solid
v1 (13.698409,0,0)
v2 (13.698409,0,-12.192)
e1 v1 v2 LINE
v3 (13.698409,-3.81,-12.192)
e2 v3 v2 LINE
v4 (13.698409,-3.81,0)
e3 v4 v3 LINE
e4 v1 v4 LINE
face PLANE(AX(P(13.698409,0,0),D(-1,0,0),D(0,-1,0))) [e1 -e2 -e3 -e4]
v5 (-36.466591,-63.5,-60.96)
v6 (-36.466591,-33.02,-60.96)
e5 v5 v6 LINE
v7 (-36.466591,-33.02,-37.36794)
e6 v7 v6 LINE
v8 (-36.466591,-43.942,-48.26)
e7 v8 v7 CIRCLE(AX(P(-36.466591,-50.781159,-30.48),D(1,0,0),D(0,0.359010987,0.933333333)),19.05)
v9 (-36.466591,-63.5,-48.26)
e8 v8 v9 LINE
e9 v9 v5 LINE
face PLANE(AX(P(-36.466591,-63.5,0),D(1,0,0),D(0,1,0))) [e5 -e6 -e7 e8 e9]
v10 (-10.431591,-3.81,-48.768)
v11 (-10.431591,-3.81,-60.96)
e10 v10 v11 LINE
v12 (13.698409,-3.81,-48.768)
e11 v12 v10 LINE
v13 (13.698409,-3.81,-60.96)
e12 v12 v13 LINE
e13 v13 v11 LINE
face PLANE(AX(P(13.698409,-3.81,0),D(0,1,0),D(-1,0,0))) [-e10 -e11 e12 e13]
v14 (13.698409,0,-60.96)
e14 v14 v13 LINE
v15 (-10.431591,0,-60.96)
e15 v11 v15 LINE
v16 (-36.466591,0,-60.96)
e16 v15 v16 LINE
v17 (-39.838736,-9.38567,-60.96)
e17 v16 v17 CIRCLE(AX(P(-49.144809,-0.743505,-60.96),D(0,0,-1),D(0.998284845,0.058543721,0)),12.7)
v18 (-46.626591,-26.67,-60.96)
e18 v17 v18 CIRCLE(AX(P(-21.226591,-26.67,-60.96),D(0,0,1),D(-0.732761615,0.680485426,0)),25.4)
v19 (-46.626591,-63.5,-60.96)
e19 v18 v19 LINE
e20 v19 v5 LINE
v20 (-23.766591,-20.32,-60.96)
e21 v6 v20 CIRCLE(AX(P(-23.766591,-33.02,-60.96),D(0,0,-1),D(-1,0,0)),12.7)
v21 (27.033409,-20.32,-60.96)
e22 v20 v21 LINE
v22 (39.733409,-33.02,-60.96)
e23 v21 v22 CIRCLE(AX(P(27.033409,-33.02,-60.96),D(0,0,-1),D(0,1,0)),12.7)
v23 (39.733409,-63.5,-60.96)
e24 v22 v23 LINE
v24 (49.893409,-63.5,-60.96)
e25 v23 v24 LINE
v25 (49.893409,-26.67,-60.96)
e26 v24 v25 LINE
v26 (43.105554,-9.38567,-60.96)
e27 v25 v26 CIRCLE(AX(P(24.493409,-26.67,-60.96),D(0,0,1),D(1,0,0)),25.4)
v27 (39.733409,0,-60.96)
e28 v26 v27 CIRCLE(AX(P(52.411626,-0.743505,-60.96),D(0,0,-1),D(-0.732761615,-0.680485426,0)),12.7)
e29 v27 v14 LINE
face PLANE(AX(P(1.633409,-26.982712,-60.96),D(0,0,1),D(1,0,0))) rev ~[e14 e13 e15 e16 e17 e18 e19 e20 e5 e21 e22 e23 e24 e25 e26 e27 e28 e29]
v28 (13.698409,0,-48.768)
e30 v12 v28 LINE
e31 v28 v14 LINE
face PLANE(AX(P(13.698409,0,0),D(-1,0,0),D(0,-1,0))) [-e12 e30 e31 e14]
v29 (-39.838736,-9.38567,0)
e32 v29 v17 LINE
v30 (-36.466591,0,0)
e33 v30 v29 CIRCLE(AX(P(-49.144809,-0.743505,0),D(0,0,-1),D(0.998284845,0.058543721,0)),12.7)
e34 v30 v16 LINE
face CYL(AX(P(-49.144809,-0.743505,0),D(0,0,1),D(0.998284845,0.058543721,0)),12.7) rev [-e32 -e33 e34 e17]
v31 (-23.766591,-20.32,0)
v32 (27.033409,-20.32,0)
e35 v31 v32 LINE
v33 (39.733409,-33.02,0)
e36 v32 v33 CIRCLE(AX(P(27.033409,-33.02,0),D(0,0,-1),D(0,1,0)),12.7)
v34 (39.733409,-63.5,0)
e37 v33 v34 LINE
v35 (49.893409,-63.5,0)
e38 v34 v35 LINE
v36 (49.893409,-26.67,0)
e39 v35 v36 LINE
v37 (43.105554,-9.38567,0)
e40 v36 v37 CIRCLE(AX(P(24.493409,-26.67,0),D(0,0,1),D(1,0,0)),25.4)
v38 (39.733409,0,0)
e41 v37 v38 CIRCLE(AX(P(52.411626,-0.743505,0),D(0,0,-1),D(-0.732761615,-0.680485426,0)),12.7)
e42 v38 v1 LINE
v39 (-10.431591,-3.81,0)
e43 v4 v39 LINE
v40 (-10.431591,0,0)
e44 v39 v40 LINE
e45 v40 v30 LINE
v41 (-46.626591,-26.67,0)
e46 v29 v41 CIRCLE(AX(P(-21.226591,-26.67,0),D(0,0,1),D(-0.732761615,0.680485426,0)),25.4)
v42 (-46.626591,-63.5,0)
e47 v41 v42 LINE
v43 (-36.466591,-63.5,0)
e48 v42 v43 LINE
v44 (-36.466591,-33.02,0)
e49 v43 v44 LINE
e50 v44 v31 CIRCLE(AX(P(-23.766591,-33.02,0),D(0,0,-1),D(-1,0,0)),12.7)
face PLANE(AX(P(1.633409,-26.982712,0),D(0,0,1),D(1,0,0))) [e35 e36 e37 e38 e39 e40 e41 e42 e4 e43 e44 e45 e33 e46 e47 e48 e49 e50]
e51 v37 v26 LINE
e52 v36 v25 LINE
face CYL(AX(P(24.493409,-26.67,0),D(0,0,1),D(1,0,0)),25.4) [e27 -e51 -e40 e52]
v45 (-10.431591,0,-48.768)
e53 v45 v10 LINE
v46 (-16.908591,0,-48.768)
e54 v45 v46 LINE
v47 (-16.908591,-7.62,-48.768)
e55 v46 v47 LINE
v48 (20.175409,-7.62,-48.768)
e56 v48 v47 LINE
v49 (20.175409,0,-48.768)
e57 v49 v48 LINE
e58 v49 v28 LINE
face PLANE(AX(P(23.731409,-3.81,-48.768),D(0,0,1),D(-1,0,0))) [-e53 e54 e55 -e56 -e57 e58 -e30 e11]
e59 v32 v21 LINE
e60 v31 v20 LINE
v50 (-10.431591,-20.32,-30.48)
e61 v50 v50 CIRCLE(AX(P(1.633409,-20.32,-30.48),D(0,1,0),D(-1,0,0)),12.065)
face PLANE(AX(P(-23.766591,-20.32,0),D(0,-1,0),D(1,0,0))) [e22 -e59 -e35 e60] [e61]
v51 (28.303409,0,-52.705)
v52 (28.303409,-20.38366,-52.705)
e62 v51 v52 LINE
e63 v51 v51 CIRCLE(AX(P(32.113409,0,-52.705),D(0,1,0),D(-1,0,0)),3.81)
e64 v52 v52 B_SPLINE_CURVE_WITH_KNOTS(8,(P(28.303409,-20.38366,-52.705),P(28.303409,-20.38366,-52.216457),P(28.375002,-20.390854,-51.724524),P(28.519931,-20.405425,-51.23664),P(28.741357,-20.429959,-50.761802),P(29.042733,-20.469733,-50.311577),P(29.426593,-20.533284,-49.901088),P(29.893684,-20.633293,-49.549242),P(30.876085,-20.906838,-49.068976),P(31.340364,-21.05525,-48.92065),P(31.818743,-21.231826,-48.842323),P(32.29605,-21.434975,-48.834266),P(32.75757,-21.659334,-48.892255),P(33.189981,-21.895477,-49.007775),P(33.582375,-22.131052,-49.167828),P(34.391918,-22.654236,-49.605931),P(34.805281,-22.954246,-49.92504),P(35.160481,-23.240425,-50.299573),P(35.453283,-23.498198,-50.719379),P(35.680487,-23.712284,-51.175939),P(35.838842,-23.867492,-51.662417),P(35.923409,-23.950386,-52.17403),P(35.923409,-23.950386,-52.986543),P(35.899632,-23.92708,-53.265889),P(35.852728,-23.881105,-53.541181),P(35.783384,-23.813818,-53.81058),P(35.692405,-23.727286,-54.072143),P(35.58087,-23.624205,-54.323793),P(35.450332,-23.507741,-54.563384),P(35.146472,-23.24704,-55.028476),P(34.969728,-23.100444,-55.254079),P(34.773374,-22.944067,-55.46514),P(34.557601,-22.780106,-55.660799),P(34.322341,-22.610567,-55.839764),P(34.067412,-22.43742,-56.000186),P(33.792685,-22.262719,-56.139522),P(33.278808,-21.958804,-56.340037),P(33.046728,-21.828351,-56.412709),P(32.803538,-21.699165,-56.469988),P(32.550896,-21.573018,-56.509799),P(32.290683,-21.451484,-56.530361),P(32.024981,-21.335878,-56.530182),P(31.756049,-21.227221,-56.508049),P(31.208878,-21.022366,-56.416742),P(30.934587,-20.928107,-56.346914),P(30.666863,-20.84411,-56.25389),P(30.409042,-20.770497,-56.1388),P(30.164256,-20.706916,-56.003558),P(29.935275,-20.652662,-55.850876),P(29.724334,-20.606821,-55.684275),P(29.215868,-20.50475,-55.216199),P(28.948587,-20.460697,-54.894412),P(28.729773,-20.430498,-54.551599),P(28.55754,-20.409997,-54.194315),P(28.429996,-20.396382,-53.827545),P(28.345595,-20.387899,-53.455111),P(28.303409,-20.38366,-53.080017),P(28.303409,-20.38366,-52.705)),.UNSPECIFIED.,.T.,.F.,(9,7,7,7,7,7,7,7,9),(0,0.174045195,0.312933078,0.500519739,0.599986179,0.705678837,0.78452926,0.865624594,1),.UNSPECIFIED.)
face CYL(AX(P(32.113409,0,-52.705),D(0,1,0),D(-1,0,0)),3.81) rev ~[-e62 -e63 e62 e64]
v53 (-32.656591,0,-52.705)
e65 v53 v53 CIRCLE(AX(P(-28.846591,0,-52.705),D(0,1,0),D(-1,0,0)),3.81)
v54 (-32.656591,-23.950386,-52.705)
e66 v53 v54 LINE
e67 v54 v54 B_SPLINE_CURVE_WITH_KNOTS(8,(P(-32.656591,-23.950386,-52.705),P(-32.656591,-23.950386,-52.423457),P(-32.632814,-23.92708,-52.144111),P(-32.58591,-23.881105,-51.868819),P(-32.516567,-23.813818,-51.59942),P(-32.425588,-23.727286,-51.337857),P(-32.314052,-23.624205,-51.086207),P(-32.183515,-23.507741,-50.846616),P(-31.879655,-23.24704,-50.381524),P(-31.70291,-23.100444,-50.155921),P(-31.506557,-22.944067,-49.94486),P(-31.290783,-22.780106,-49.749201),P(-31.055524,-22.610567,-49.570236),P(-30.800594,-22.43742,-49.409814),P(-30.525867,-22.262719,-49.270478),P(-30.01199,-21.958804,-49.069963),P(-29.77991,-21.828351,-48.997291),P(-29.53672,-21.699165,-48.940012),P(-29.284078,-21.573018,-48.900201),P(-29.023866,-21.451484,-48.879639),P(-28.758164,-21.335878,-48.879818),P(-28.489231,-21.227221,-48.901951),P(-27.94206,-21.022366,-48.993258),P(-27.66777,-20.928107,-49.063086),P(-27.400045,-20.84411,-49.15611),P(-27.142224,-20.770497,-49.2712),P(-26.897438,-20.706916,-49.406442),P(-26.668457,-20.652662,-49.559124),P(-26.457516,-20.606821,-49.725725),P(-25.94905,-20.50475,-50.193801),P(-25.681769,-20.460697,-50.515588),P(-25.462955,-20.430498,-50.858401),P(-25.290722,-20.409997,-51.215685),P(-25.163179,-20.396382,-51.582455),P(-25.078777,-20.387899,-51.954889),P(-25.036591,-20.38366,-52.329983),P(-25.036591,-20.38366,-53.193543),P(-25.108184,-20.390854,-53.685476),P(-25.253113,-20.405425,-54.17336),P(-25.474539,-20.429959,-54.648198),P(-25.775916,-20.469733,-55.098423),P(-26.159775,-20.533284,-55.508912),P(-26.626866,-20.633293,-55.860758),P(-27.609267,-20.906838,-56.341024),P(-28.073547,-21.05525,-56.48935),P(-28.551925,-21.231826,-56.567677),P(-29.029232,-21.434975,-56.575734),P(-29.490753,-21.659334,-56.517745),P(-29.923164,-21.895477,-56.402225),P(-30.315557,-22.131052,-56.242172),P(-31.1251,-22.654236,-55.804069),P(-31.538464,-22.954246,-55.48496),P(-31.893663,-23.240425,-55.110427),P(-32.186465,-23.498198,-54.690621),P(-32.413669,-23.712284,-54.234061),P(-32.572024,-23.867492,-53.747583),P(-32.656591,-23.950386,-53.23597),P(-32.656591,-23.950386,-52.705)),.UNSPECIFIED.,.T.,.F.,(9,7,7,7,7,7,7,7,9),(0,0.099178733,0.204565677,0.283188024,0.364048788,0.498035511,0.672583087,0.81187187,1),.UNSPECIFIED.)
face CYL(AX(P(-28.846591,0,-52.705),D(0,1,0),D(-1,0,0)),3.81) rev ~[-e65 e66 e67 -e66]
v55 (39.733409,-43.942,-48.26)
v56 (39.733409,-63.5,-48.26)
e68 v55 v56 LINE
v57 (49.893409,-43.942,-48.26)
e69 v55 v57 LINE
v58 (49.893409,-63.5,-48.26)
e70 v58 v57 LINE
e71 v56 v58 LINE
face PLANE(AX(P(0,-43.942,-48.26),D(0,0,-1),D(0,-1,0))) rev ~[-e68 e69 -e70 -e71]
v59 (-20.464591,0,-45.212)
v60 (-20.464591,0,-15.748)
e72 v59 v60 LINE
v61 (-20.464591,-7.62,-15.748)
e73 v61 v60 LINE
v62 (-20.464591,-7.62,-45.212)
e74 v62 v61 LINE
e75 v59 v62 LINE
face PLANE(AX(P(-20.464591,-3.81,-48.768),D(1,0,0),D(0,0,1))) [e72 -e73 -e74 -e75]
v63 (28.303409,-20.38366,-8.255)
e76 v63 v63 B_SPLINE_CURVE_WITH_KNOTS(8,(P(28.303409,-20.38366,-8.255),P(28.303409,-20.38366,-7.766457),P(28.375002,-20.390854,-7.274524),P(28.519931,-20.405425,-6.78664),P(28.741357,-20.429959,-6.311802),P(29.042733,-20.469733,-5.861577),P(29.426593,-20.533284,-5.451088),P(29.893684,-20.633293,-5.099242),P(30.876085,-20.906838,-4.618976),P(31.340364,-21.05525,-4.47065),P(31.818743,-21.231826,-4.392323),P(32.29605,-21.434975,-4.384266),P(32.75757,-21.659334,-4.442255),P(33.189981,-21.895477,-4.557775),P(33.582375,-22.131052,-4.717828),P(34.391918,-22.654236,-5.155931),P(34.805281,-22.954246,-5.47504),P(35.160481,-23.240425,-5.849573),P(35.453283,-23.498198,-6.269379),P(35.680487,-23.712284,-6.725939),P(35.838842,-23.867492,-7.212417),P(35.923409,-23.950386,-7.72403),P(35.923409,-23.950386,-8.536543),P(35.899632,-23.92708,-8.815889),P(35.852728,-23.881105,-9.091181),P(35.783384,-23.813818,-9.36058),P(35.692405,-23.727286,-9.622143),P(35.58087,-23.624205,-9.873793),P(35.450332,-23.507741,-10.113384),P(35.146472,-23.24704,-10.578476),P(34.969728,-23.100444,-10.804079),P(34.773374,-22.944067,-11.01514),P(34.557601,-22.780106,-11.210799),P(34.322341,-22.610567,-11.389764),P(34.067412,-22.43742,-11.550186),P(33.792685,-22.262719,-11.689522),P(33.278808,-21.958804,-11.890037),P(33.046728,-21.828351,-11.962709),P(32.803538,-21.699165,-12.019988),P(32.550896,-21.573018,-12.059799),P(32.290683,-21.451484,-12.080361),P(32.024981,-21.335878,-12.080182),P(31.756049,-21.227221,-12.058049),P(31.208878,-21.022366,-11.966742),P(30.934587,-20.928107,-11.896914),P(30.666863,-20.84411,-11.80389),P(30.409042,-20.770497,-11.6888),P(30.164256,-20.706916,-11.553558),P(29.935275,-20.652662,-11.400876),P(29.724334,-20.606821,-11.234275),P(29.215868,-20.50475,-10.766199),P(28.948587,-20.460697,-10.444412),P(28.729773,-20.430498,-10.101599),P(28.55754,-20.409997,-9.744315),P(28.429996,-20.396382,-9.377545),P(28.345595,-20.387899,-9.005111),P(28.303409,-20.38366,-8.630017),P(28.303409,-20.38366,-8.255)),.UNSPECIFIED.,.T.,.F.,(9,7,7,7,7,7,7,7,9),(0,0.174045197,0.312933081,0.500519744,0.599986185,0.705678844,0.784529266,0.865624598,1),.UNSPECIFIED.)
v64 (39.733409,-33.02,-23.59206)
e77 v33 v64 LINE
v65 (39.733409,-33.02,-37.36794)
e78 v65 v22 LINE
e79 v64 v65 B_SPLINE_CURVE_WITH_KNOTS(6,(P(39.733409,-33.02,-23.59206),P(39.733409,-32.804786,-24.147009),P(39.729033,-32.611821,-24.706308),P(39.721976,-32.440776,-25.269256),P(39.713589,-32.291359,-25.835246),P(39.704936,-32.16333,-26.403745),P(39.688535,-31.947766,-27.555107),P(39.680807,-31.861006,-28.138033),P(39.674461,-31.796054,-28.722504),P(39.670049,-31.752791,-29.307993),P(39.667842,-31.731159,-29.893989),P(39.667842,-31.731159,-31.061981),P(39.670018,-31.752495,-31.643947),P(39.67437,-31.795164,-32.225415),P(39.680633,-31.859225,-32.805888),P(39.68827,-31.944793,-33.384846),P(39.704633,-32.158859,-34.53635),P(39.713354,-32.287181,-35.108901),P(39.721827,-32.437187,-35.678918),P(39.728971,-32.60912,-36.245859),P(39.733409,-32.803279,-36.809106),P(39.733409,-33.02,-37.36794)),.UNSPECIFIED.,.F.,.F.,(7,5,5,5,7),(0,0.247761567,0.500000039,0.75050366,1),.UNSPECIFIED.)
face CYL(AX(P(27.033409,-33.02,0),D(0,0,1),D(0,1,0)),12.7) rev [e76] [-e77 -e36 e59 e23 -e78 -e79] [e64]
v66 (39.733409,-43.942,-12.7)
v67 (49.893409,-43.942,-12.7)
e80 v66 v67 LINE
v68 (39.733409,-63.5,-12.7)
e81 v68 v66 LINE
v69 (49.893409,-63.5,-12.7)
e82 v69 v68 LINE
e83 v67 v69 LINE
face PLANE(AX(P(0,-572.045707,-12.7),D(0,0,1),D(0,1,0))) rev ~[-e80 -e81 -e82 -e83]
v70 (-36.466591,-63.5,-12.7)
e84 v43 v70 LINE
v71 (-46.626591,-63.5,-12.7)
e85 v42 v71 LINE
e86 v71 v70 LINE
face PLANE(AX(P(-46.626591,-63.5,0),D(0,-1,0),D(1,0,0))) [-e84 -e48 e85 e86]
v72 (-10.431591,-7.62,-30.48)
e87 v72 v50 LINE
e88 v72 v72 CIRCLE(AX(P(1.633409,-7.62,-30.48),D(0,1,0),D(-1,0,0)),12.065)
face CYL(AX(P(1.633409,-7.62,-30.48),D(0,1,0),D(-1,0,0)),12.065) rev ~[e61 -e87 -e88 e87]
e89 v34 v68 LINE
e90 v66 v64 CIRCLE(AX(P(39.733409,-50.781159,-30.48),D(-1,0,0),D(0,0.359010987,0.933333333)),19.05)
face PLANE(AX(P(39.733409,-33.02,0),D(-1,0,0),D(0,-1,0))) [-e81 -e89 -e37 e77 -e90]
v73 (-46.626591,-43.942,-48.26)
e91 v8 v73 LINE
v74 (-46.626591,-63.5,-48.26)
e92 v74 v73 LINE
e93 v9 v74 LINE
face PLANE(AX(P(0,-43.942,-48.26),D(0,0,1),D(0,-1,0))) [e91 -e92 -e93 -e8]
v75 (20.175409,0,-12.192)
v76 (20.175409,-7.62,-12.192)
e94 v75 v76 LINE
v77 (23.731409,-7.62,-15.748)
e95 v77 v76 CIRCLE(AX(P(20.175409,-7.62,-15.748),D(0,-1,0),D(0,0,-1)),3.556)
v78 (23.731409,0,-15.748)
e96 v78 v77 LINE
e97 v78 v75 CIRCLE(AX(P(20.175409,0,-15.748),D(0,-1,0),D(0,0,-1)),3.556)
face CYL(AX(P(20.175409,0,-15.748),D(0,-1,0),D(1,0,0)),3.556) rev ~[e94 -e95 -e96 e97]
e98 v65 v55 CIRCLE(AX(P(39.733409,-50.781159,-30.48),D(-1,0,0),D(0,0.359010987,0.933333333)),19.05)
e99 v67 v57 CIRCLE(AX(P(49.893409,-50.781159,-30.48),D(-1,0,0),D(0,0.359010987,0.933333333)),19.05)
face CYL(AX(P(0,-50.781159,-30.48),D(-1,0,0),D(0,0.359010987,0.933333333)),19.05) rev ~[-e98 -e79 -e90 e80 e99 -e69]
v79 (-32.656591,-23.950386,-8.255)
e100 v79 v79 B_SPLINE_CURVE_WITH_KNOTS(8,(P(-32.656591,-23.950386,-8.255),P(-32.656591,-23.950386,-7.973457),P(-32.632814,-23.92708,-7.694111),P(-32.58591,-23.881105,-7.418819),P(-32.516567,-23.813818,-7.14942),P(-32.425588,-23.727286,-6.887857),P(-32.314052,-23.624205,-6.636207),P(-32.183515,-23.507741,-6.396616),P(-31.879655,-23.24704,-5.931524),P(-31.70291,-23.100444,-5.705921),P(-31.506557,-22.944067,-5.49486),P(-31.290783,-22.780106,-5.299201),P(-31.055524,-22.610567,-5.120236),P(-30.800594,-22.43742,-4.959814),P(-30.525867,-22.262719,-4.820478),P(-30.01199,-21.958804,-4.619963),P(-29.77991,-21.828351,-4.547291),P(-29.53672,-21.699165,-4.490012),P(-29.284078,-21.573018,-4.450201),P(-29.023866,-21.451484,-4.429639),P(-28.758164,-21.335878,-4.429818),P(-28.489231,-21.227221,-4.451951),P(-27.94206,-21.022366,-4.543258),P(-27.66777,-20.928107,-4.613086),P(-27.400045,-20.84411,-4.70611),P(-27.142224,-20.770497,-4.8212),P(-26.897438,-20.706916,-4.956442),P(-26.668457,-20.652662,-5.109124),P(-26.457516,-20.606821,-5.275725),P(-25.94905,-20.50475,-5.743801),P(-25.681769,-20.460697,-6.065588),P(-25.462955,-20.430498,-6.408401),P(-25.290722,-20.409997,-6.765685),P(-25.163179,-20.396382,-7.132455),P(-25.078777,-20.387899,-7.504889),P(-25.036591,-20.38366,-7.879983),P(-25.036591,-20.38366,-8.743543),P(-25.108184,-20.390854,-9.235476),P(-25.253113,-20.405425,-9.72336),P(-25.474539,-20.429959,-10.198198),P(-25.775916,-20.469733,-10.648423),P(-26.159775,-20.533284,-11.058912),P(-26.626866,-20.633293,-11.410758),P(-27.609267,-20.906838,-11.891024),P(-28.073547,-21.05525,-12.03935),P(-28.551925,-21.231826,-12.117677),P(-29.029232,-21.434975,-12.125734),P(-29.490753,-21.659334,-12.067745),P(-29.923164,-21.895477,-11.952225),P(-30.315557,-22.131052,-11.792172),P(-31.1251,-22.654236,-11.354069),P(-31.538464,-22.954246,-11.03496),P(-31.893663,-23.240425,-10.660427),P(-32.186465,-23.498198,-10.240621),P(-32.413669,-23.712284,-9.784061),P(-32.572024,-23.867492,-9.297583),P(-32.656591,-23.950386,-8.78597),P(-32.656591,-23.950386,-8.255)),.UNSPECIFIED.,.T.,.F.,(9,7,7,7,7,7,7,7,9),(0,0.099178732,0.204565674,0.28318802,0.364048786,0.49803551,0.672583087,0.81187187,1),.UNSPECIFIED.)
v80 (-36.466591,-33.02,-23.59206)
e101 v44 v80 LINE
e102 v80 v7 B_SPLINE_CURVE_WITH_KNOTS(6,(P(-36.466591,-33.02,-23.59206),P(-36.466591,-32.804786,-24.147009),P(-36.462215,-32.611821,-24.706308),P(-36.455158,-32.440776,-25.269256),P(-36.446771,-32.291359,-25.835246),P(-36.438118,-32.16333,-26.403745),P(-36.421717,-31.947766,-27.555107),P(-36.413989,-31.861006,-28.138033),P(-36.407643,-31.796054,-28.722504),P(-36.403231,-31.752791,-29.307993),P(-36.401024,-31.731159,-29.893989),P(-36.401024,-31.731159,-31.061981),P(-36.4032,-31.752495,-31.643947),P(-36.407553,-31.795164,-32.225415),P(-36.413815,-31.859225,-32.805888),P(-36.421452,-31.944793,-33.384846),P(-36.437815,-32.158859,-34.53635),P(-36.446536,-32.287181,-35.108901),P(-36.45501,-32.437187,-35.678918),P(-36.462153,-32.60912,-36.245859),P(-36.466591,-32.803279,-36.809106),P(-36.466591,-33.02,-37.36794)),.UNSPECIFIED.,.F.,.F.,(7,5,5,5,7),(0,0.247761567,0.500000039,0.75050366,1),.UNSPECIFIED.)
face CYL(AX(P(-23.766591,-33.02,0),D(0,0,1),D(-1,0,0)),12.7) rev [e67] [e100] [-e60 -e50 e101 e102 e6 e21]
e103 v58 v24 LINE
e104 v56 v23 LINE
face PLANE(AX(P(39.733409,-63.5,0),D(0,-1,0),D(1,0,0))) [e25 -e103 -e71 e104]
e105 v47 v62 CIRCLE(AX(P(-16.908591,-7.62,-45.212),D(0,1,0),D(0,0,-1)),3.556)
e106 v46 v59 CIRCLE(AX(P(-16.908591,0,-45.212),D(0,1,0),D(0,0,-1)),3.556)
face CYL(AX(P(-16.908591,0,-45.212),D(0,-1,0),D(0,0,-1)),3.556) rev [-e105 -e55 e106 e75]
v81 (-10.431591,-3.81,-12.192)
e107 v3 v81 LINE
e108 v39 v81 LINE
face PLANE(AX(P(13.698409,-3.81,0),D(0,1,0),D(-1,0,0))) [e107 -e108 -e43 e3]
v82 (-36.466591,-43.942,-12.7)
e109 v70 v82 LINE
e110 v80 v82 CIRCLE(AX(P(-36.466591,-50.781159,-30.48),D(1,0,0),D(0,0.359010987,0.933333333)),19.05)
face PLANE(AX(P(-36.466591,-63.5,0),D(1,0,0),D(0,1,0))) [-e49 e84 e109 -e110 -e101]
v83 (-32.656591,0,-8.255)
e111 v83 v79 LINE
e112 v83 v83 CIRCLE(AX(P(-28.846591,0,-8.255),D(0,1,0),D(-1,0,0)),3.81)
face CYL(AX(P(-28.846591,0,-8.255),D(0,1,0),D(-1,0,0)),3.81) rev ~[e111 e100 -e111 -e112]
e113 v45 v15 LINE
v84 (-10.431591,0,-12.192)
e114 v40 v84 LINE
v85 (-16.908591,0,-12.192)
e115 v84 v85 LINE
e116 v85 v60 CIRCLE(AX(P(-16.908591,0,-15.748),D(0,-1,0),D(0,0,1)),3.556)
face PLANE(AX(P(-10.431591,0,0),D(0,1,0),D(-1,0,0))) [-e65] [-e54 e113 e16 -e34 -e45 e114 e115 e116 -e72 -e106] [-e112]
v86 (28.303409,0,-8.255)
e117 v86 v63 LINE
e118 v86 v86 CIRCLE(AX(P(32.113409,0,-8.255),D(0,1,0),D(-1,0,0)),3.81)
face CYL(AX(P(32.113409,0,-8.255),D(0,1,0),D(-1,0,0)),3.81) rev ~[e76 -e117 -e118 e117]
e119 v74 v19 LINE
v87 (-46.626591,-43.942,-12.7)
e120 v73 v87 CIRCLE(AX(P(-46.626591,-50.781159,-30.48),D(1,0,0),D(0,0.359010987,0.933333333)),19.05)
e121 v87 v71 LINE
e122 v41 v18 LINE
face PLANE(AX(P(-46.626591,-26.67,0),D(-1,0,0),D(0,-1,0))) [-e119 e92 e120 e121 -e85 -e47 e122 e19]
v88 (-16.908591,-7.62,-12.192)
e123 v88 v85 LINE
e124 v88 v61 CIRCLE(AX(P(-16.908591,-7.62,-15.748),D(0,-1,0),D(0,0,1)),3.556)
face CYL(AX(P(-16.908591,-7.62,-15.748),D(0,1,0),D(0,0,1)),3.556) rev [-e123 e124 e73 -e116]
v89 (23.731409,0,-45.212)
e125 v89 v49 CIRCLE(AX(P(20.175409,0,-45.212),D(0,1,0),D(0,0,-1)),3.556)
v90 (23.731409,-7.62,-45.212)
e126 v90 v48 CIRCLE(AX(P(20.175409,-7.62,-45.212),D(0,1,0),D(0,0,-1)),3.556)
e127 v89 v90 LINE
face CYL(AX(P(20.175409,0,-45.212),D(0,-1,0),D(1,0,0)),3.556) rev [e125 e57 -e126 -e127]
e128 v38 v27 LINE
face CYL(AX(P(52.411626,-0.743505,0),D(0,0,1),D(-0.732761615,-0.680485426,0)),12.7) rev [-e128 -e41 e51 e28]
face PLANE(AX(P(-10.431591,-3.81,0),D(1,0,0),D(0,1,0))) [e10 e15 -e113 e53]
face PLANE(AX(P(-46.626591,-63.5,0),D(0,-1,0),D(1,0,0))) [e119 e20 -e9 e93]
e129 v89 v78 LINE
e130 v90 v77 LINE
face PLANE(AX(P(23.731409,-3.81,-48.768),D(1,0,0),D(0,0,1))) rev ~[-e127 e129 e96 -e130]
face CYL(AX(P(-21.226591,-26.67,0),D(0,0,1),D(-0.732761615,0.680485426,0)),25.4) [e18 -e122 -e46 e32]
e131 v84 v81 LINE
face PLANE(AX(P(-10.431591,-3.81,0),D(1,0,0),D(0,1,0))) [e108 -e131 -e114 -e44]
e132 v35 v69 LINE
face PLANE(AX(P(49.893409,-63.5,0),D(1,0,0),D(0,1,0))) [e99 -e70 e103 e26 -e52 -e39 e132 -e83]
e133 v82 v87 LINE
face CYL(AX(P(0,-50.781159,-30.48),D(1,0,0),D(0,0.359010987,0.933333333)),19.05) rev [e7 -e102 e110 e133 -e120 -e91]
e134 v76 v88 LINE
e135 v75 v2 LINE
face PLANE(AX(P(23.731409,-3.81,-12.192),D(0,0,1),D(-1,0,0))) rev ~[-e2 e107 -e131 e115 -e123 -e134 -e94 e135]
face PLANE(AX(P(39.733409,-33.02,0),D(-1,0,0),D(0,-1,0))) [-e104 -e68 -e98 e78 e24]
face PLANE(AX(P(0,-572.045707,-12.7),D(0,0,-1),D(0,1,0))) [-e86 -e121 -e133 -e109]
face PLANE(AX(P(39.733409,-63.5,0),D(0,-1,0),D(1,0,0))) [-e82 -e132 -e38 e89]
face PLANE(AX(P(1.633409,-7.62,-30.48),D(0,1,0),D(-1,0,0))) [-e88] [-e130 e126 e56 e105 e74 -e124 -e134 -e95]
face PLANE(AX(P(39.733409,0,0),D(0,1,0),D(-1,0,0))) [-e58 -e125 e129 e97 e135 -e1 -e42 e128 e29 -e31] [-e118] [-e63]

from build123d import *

# Parameters (mm, degrees)
EXTRUDE1_DEPTH          = 60.96
CUT_EXTRUDE1_DEPTH      = 50.893408892
CUT_EXTRUDE1_DEPTH_BACK = 47.626591108
SKETCH5_W               = 44.196
SKETCH5_H               = 36.576
CUT_EXTRUDE3_DEPTH      = 3.81
CUT_EXTRUDE3_DEPTH_BACK = 3.81
FILLET1_R               = 3.556
FILLET2_R               = 3.556
SKETCH6_R               = 12.065
CUT_EXTRUDE4_DEPTH      = 56.88
SKETCH7_R               = 3.81
CUT_EXTRUDE5_DEPTH      = 64.5
LPATTERN1_COUNT         = 2
LPATTERN1_PITCH         = 60.96
LPATTERN1_COUNT_DIR2    = 2
LPATTERN1_PITCH_DIR2    = 44.45


with BuildPart() as part:
    # Sketch1 → Extrude1 (new body)
    with BuildSketch(Plane.XY):
        with BuildLine():
            Line((-4.519970737, -20.32), (7.786788522, -20.32))
            Line((7.786788522, -20.32), (27.033408892, -20.32))
            ThreePointArc((27.033408892, -20.32), (36.013665013, -24.039743879), (39.733408892, -33.02))
            Line((39.733408892, -33.02), (39.733408892, -63.5))
            Line((39.733408892, -63.5), (49.893408892, -63.5))
            Line((49.893408892, -63.5), (49.893408892, -26.67))
            ThreePointArc((49.893408892, -26.67), (48.135622025, -17.385294394), (43.105553917, -9.385670173))
            ThreePointArc((43.105553917, -9.385670173), (40.459641097, -5.037692796), (39.733408892, 0))
            Line((39.733408892, 0), (13.698408892, 0))
            Line((13.698408892, 0), (13.698408892, -3.81))
            Line((13.698408892, -3.81), (-10.431591108, -3.81))
            Line((-10.431591108, -3.81), (-10.431591108, 0))
            Line((-10.431591108, 0), (-36.466591108, 0))
            ThreePointArc((-36.466591108, 0), (-37.192823312, -5.037692796), (-39.838736133, -9.385670173))
            ThreePointArc((-39.838736133, -9.385670173), (-44.868804241, -17.385294394), (-46.626591108, -26.67))
            Line((-46.626591108, -26.67), (-46.626591108, -63.5))
            Line((-46.626591108, -63.5), (-36.466591108, -63.5))
            Line((-36.466591108, -63.5), (-36.466591108, -33.02))
            ThreePointArc((-36.466591108, -33.02), (-32.746847229, -24.039743879), (-23.766591108, -20.32))
            Line((-23.766591108, -20.32), (-4.519970737, -20.32))
        make_face()
    extrude(amount=-EXTRUDE1_DEPTH)

    # Sketch4 → Cut-Extrude1 (cut, two sides)
    with BuildSketch(Plane(origin=(0, 0, 0), x_dir=(0, 0, -1), z_dir=(1, 0, 0))) as cut_extrude1_sk:
        with BuildLine():
            Line((12.7, -233.015235636), (12.7, -63.5))
            Line((12.7, -63.5), (12.7, -43.942))
            ThreePointArc((12.7, -43.942), (30.48, -31.731159305), (48.26, -43.942))
            Line((48.26, -43.942), (48.26, -63.5))
            Line((48.26, -63.5), (48.26, -233.015235636))
            Line((48.26, -233.015235636), (48.26, -572.045706908))
            Line((48.26, -572.045706908), (12.7, -572.045706908))
            Line((12.7, -572.045706908), (12.7, -233.015235636))
        make_face()
    extrude(amount=CUT_EXTRUDE1_DEPTH, mode=Mode.SUBTRACT)
    extrude(cut_extrude1_sk.sketch, amount=-CUT_EXTRUDE1_DEPTH_BACK, mode=Mode.SUBTRACT)

    # Sketch5 → Cut-Extrude3 (cut, two sides)
    with BuildSketch(Plane(origin=(0, -3.81, 0), x_dir=(-1, 0, 0), z_dir=(0, 1, 0))) as cut_extrude3_sk:
        with Locations((-1.633408892, -30.48)):
            Rectangle(SKETCH5_W, SKETCH5_H)
    extrude(amount=CUT_EXTRUDE3_DEPTH, mode=Mode.SUBTRACT)
    extrude(cut_extrude3_sk.sketch, amount=-CUT_EXTRUDE3_DEPTH_BACK, mode=Mode.SUBTRACT)

    # Fillet1
    fillet1_edges = [part.edges().sort_by_distance(p)[0] for p in [
        (23.731408892, -3.81, -12.192),
    ]]
    fillet(fillet1_edges, radius=FILLET1_R)

    # Fillet2
    fillet2_edges = [part.edges().sort_by_distance(p)[0] for p in [
        (23.731408892, -3.81, -48.768),
        (-20.464591108, -3.81, -12.192),
        (-20.464591108, -3.81, -48.768),
    ]]
    fillet(fillet2_edges, radius=FILLET2_R)

    # Sketch6 → Cut-Extrude4 (cut, through all)
    with BuildSketch(Plane(origin=(0, -7.62, 0), x_dir=(-1, 0, 0), z_dir=(0, 1, 0))):
        with Locations((-1.633408892, -30.48)):
            Circle(SKETCH6_R)
    extrude(amount=-CUT_EXTRUDE4_DEPTH, mode=Mode.SUBTRACT)

    # Sketch7 → Cut-Extrude5 (cut, through all)
    with BuildSketch(Plane(origin=(0, 0, 0), x_dir=(-1, 0, 0), z_dir=(0, 1, 0))):
        with Locations((-32.113408892, -8.255)):
            Circle(SKETCH7_R)
    cut_extrude5 = extrude(amount=-CUT_EXTRUDE5_DEPTH, mode=Mode.SUBTRACT)

    # LPattern1: Cut-Extrude5 2 × 2
    with Locations(*[(-i * LPATTERN1_PITCH, 0, -j * LPATTERN1_PITCH_DIR2) for i in range(LPATTERN1_COUNT) for j in range(LPATTERN1_COUNT_DIR2) if (i, j) != (0, 0)]):
        add(cut_extrude5, mode=Mode.SUBTRACT)


solid = part.part
